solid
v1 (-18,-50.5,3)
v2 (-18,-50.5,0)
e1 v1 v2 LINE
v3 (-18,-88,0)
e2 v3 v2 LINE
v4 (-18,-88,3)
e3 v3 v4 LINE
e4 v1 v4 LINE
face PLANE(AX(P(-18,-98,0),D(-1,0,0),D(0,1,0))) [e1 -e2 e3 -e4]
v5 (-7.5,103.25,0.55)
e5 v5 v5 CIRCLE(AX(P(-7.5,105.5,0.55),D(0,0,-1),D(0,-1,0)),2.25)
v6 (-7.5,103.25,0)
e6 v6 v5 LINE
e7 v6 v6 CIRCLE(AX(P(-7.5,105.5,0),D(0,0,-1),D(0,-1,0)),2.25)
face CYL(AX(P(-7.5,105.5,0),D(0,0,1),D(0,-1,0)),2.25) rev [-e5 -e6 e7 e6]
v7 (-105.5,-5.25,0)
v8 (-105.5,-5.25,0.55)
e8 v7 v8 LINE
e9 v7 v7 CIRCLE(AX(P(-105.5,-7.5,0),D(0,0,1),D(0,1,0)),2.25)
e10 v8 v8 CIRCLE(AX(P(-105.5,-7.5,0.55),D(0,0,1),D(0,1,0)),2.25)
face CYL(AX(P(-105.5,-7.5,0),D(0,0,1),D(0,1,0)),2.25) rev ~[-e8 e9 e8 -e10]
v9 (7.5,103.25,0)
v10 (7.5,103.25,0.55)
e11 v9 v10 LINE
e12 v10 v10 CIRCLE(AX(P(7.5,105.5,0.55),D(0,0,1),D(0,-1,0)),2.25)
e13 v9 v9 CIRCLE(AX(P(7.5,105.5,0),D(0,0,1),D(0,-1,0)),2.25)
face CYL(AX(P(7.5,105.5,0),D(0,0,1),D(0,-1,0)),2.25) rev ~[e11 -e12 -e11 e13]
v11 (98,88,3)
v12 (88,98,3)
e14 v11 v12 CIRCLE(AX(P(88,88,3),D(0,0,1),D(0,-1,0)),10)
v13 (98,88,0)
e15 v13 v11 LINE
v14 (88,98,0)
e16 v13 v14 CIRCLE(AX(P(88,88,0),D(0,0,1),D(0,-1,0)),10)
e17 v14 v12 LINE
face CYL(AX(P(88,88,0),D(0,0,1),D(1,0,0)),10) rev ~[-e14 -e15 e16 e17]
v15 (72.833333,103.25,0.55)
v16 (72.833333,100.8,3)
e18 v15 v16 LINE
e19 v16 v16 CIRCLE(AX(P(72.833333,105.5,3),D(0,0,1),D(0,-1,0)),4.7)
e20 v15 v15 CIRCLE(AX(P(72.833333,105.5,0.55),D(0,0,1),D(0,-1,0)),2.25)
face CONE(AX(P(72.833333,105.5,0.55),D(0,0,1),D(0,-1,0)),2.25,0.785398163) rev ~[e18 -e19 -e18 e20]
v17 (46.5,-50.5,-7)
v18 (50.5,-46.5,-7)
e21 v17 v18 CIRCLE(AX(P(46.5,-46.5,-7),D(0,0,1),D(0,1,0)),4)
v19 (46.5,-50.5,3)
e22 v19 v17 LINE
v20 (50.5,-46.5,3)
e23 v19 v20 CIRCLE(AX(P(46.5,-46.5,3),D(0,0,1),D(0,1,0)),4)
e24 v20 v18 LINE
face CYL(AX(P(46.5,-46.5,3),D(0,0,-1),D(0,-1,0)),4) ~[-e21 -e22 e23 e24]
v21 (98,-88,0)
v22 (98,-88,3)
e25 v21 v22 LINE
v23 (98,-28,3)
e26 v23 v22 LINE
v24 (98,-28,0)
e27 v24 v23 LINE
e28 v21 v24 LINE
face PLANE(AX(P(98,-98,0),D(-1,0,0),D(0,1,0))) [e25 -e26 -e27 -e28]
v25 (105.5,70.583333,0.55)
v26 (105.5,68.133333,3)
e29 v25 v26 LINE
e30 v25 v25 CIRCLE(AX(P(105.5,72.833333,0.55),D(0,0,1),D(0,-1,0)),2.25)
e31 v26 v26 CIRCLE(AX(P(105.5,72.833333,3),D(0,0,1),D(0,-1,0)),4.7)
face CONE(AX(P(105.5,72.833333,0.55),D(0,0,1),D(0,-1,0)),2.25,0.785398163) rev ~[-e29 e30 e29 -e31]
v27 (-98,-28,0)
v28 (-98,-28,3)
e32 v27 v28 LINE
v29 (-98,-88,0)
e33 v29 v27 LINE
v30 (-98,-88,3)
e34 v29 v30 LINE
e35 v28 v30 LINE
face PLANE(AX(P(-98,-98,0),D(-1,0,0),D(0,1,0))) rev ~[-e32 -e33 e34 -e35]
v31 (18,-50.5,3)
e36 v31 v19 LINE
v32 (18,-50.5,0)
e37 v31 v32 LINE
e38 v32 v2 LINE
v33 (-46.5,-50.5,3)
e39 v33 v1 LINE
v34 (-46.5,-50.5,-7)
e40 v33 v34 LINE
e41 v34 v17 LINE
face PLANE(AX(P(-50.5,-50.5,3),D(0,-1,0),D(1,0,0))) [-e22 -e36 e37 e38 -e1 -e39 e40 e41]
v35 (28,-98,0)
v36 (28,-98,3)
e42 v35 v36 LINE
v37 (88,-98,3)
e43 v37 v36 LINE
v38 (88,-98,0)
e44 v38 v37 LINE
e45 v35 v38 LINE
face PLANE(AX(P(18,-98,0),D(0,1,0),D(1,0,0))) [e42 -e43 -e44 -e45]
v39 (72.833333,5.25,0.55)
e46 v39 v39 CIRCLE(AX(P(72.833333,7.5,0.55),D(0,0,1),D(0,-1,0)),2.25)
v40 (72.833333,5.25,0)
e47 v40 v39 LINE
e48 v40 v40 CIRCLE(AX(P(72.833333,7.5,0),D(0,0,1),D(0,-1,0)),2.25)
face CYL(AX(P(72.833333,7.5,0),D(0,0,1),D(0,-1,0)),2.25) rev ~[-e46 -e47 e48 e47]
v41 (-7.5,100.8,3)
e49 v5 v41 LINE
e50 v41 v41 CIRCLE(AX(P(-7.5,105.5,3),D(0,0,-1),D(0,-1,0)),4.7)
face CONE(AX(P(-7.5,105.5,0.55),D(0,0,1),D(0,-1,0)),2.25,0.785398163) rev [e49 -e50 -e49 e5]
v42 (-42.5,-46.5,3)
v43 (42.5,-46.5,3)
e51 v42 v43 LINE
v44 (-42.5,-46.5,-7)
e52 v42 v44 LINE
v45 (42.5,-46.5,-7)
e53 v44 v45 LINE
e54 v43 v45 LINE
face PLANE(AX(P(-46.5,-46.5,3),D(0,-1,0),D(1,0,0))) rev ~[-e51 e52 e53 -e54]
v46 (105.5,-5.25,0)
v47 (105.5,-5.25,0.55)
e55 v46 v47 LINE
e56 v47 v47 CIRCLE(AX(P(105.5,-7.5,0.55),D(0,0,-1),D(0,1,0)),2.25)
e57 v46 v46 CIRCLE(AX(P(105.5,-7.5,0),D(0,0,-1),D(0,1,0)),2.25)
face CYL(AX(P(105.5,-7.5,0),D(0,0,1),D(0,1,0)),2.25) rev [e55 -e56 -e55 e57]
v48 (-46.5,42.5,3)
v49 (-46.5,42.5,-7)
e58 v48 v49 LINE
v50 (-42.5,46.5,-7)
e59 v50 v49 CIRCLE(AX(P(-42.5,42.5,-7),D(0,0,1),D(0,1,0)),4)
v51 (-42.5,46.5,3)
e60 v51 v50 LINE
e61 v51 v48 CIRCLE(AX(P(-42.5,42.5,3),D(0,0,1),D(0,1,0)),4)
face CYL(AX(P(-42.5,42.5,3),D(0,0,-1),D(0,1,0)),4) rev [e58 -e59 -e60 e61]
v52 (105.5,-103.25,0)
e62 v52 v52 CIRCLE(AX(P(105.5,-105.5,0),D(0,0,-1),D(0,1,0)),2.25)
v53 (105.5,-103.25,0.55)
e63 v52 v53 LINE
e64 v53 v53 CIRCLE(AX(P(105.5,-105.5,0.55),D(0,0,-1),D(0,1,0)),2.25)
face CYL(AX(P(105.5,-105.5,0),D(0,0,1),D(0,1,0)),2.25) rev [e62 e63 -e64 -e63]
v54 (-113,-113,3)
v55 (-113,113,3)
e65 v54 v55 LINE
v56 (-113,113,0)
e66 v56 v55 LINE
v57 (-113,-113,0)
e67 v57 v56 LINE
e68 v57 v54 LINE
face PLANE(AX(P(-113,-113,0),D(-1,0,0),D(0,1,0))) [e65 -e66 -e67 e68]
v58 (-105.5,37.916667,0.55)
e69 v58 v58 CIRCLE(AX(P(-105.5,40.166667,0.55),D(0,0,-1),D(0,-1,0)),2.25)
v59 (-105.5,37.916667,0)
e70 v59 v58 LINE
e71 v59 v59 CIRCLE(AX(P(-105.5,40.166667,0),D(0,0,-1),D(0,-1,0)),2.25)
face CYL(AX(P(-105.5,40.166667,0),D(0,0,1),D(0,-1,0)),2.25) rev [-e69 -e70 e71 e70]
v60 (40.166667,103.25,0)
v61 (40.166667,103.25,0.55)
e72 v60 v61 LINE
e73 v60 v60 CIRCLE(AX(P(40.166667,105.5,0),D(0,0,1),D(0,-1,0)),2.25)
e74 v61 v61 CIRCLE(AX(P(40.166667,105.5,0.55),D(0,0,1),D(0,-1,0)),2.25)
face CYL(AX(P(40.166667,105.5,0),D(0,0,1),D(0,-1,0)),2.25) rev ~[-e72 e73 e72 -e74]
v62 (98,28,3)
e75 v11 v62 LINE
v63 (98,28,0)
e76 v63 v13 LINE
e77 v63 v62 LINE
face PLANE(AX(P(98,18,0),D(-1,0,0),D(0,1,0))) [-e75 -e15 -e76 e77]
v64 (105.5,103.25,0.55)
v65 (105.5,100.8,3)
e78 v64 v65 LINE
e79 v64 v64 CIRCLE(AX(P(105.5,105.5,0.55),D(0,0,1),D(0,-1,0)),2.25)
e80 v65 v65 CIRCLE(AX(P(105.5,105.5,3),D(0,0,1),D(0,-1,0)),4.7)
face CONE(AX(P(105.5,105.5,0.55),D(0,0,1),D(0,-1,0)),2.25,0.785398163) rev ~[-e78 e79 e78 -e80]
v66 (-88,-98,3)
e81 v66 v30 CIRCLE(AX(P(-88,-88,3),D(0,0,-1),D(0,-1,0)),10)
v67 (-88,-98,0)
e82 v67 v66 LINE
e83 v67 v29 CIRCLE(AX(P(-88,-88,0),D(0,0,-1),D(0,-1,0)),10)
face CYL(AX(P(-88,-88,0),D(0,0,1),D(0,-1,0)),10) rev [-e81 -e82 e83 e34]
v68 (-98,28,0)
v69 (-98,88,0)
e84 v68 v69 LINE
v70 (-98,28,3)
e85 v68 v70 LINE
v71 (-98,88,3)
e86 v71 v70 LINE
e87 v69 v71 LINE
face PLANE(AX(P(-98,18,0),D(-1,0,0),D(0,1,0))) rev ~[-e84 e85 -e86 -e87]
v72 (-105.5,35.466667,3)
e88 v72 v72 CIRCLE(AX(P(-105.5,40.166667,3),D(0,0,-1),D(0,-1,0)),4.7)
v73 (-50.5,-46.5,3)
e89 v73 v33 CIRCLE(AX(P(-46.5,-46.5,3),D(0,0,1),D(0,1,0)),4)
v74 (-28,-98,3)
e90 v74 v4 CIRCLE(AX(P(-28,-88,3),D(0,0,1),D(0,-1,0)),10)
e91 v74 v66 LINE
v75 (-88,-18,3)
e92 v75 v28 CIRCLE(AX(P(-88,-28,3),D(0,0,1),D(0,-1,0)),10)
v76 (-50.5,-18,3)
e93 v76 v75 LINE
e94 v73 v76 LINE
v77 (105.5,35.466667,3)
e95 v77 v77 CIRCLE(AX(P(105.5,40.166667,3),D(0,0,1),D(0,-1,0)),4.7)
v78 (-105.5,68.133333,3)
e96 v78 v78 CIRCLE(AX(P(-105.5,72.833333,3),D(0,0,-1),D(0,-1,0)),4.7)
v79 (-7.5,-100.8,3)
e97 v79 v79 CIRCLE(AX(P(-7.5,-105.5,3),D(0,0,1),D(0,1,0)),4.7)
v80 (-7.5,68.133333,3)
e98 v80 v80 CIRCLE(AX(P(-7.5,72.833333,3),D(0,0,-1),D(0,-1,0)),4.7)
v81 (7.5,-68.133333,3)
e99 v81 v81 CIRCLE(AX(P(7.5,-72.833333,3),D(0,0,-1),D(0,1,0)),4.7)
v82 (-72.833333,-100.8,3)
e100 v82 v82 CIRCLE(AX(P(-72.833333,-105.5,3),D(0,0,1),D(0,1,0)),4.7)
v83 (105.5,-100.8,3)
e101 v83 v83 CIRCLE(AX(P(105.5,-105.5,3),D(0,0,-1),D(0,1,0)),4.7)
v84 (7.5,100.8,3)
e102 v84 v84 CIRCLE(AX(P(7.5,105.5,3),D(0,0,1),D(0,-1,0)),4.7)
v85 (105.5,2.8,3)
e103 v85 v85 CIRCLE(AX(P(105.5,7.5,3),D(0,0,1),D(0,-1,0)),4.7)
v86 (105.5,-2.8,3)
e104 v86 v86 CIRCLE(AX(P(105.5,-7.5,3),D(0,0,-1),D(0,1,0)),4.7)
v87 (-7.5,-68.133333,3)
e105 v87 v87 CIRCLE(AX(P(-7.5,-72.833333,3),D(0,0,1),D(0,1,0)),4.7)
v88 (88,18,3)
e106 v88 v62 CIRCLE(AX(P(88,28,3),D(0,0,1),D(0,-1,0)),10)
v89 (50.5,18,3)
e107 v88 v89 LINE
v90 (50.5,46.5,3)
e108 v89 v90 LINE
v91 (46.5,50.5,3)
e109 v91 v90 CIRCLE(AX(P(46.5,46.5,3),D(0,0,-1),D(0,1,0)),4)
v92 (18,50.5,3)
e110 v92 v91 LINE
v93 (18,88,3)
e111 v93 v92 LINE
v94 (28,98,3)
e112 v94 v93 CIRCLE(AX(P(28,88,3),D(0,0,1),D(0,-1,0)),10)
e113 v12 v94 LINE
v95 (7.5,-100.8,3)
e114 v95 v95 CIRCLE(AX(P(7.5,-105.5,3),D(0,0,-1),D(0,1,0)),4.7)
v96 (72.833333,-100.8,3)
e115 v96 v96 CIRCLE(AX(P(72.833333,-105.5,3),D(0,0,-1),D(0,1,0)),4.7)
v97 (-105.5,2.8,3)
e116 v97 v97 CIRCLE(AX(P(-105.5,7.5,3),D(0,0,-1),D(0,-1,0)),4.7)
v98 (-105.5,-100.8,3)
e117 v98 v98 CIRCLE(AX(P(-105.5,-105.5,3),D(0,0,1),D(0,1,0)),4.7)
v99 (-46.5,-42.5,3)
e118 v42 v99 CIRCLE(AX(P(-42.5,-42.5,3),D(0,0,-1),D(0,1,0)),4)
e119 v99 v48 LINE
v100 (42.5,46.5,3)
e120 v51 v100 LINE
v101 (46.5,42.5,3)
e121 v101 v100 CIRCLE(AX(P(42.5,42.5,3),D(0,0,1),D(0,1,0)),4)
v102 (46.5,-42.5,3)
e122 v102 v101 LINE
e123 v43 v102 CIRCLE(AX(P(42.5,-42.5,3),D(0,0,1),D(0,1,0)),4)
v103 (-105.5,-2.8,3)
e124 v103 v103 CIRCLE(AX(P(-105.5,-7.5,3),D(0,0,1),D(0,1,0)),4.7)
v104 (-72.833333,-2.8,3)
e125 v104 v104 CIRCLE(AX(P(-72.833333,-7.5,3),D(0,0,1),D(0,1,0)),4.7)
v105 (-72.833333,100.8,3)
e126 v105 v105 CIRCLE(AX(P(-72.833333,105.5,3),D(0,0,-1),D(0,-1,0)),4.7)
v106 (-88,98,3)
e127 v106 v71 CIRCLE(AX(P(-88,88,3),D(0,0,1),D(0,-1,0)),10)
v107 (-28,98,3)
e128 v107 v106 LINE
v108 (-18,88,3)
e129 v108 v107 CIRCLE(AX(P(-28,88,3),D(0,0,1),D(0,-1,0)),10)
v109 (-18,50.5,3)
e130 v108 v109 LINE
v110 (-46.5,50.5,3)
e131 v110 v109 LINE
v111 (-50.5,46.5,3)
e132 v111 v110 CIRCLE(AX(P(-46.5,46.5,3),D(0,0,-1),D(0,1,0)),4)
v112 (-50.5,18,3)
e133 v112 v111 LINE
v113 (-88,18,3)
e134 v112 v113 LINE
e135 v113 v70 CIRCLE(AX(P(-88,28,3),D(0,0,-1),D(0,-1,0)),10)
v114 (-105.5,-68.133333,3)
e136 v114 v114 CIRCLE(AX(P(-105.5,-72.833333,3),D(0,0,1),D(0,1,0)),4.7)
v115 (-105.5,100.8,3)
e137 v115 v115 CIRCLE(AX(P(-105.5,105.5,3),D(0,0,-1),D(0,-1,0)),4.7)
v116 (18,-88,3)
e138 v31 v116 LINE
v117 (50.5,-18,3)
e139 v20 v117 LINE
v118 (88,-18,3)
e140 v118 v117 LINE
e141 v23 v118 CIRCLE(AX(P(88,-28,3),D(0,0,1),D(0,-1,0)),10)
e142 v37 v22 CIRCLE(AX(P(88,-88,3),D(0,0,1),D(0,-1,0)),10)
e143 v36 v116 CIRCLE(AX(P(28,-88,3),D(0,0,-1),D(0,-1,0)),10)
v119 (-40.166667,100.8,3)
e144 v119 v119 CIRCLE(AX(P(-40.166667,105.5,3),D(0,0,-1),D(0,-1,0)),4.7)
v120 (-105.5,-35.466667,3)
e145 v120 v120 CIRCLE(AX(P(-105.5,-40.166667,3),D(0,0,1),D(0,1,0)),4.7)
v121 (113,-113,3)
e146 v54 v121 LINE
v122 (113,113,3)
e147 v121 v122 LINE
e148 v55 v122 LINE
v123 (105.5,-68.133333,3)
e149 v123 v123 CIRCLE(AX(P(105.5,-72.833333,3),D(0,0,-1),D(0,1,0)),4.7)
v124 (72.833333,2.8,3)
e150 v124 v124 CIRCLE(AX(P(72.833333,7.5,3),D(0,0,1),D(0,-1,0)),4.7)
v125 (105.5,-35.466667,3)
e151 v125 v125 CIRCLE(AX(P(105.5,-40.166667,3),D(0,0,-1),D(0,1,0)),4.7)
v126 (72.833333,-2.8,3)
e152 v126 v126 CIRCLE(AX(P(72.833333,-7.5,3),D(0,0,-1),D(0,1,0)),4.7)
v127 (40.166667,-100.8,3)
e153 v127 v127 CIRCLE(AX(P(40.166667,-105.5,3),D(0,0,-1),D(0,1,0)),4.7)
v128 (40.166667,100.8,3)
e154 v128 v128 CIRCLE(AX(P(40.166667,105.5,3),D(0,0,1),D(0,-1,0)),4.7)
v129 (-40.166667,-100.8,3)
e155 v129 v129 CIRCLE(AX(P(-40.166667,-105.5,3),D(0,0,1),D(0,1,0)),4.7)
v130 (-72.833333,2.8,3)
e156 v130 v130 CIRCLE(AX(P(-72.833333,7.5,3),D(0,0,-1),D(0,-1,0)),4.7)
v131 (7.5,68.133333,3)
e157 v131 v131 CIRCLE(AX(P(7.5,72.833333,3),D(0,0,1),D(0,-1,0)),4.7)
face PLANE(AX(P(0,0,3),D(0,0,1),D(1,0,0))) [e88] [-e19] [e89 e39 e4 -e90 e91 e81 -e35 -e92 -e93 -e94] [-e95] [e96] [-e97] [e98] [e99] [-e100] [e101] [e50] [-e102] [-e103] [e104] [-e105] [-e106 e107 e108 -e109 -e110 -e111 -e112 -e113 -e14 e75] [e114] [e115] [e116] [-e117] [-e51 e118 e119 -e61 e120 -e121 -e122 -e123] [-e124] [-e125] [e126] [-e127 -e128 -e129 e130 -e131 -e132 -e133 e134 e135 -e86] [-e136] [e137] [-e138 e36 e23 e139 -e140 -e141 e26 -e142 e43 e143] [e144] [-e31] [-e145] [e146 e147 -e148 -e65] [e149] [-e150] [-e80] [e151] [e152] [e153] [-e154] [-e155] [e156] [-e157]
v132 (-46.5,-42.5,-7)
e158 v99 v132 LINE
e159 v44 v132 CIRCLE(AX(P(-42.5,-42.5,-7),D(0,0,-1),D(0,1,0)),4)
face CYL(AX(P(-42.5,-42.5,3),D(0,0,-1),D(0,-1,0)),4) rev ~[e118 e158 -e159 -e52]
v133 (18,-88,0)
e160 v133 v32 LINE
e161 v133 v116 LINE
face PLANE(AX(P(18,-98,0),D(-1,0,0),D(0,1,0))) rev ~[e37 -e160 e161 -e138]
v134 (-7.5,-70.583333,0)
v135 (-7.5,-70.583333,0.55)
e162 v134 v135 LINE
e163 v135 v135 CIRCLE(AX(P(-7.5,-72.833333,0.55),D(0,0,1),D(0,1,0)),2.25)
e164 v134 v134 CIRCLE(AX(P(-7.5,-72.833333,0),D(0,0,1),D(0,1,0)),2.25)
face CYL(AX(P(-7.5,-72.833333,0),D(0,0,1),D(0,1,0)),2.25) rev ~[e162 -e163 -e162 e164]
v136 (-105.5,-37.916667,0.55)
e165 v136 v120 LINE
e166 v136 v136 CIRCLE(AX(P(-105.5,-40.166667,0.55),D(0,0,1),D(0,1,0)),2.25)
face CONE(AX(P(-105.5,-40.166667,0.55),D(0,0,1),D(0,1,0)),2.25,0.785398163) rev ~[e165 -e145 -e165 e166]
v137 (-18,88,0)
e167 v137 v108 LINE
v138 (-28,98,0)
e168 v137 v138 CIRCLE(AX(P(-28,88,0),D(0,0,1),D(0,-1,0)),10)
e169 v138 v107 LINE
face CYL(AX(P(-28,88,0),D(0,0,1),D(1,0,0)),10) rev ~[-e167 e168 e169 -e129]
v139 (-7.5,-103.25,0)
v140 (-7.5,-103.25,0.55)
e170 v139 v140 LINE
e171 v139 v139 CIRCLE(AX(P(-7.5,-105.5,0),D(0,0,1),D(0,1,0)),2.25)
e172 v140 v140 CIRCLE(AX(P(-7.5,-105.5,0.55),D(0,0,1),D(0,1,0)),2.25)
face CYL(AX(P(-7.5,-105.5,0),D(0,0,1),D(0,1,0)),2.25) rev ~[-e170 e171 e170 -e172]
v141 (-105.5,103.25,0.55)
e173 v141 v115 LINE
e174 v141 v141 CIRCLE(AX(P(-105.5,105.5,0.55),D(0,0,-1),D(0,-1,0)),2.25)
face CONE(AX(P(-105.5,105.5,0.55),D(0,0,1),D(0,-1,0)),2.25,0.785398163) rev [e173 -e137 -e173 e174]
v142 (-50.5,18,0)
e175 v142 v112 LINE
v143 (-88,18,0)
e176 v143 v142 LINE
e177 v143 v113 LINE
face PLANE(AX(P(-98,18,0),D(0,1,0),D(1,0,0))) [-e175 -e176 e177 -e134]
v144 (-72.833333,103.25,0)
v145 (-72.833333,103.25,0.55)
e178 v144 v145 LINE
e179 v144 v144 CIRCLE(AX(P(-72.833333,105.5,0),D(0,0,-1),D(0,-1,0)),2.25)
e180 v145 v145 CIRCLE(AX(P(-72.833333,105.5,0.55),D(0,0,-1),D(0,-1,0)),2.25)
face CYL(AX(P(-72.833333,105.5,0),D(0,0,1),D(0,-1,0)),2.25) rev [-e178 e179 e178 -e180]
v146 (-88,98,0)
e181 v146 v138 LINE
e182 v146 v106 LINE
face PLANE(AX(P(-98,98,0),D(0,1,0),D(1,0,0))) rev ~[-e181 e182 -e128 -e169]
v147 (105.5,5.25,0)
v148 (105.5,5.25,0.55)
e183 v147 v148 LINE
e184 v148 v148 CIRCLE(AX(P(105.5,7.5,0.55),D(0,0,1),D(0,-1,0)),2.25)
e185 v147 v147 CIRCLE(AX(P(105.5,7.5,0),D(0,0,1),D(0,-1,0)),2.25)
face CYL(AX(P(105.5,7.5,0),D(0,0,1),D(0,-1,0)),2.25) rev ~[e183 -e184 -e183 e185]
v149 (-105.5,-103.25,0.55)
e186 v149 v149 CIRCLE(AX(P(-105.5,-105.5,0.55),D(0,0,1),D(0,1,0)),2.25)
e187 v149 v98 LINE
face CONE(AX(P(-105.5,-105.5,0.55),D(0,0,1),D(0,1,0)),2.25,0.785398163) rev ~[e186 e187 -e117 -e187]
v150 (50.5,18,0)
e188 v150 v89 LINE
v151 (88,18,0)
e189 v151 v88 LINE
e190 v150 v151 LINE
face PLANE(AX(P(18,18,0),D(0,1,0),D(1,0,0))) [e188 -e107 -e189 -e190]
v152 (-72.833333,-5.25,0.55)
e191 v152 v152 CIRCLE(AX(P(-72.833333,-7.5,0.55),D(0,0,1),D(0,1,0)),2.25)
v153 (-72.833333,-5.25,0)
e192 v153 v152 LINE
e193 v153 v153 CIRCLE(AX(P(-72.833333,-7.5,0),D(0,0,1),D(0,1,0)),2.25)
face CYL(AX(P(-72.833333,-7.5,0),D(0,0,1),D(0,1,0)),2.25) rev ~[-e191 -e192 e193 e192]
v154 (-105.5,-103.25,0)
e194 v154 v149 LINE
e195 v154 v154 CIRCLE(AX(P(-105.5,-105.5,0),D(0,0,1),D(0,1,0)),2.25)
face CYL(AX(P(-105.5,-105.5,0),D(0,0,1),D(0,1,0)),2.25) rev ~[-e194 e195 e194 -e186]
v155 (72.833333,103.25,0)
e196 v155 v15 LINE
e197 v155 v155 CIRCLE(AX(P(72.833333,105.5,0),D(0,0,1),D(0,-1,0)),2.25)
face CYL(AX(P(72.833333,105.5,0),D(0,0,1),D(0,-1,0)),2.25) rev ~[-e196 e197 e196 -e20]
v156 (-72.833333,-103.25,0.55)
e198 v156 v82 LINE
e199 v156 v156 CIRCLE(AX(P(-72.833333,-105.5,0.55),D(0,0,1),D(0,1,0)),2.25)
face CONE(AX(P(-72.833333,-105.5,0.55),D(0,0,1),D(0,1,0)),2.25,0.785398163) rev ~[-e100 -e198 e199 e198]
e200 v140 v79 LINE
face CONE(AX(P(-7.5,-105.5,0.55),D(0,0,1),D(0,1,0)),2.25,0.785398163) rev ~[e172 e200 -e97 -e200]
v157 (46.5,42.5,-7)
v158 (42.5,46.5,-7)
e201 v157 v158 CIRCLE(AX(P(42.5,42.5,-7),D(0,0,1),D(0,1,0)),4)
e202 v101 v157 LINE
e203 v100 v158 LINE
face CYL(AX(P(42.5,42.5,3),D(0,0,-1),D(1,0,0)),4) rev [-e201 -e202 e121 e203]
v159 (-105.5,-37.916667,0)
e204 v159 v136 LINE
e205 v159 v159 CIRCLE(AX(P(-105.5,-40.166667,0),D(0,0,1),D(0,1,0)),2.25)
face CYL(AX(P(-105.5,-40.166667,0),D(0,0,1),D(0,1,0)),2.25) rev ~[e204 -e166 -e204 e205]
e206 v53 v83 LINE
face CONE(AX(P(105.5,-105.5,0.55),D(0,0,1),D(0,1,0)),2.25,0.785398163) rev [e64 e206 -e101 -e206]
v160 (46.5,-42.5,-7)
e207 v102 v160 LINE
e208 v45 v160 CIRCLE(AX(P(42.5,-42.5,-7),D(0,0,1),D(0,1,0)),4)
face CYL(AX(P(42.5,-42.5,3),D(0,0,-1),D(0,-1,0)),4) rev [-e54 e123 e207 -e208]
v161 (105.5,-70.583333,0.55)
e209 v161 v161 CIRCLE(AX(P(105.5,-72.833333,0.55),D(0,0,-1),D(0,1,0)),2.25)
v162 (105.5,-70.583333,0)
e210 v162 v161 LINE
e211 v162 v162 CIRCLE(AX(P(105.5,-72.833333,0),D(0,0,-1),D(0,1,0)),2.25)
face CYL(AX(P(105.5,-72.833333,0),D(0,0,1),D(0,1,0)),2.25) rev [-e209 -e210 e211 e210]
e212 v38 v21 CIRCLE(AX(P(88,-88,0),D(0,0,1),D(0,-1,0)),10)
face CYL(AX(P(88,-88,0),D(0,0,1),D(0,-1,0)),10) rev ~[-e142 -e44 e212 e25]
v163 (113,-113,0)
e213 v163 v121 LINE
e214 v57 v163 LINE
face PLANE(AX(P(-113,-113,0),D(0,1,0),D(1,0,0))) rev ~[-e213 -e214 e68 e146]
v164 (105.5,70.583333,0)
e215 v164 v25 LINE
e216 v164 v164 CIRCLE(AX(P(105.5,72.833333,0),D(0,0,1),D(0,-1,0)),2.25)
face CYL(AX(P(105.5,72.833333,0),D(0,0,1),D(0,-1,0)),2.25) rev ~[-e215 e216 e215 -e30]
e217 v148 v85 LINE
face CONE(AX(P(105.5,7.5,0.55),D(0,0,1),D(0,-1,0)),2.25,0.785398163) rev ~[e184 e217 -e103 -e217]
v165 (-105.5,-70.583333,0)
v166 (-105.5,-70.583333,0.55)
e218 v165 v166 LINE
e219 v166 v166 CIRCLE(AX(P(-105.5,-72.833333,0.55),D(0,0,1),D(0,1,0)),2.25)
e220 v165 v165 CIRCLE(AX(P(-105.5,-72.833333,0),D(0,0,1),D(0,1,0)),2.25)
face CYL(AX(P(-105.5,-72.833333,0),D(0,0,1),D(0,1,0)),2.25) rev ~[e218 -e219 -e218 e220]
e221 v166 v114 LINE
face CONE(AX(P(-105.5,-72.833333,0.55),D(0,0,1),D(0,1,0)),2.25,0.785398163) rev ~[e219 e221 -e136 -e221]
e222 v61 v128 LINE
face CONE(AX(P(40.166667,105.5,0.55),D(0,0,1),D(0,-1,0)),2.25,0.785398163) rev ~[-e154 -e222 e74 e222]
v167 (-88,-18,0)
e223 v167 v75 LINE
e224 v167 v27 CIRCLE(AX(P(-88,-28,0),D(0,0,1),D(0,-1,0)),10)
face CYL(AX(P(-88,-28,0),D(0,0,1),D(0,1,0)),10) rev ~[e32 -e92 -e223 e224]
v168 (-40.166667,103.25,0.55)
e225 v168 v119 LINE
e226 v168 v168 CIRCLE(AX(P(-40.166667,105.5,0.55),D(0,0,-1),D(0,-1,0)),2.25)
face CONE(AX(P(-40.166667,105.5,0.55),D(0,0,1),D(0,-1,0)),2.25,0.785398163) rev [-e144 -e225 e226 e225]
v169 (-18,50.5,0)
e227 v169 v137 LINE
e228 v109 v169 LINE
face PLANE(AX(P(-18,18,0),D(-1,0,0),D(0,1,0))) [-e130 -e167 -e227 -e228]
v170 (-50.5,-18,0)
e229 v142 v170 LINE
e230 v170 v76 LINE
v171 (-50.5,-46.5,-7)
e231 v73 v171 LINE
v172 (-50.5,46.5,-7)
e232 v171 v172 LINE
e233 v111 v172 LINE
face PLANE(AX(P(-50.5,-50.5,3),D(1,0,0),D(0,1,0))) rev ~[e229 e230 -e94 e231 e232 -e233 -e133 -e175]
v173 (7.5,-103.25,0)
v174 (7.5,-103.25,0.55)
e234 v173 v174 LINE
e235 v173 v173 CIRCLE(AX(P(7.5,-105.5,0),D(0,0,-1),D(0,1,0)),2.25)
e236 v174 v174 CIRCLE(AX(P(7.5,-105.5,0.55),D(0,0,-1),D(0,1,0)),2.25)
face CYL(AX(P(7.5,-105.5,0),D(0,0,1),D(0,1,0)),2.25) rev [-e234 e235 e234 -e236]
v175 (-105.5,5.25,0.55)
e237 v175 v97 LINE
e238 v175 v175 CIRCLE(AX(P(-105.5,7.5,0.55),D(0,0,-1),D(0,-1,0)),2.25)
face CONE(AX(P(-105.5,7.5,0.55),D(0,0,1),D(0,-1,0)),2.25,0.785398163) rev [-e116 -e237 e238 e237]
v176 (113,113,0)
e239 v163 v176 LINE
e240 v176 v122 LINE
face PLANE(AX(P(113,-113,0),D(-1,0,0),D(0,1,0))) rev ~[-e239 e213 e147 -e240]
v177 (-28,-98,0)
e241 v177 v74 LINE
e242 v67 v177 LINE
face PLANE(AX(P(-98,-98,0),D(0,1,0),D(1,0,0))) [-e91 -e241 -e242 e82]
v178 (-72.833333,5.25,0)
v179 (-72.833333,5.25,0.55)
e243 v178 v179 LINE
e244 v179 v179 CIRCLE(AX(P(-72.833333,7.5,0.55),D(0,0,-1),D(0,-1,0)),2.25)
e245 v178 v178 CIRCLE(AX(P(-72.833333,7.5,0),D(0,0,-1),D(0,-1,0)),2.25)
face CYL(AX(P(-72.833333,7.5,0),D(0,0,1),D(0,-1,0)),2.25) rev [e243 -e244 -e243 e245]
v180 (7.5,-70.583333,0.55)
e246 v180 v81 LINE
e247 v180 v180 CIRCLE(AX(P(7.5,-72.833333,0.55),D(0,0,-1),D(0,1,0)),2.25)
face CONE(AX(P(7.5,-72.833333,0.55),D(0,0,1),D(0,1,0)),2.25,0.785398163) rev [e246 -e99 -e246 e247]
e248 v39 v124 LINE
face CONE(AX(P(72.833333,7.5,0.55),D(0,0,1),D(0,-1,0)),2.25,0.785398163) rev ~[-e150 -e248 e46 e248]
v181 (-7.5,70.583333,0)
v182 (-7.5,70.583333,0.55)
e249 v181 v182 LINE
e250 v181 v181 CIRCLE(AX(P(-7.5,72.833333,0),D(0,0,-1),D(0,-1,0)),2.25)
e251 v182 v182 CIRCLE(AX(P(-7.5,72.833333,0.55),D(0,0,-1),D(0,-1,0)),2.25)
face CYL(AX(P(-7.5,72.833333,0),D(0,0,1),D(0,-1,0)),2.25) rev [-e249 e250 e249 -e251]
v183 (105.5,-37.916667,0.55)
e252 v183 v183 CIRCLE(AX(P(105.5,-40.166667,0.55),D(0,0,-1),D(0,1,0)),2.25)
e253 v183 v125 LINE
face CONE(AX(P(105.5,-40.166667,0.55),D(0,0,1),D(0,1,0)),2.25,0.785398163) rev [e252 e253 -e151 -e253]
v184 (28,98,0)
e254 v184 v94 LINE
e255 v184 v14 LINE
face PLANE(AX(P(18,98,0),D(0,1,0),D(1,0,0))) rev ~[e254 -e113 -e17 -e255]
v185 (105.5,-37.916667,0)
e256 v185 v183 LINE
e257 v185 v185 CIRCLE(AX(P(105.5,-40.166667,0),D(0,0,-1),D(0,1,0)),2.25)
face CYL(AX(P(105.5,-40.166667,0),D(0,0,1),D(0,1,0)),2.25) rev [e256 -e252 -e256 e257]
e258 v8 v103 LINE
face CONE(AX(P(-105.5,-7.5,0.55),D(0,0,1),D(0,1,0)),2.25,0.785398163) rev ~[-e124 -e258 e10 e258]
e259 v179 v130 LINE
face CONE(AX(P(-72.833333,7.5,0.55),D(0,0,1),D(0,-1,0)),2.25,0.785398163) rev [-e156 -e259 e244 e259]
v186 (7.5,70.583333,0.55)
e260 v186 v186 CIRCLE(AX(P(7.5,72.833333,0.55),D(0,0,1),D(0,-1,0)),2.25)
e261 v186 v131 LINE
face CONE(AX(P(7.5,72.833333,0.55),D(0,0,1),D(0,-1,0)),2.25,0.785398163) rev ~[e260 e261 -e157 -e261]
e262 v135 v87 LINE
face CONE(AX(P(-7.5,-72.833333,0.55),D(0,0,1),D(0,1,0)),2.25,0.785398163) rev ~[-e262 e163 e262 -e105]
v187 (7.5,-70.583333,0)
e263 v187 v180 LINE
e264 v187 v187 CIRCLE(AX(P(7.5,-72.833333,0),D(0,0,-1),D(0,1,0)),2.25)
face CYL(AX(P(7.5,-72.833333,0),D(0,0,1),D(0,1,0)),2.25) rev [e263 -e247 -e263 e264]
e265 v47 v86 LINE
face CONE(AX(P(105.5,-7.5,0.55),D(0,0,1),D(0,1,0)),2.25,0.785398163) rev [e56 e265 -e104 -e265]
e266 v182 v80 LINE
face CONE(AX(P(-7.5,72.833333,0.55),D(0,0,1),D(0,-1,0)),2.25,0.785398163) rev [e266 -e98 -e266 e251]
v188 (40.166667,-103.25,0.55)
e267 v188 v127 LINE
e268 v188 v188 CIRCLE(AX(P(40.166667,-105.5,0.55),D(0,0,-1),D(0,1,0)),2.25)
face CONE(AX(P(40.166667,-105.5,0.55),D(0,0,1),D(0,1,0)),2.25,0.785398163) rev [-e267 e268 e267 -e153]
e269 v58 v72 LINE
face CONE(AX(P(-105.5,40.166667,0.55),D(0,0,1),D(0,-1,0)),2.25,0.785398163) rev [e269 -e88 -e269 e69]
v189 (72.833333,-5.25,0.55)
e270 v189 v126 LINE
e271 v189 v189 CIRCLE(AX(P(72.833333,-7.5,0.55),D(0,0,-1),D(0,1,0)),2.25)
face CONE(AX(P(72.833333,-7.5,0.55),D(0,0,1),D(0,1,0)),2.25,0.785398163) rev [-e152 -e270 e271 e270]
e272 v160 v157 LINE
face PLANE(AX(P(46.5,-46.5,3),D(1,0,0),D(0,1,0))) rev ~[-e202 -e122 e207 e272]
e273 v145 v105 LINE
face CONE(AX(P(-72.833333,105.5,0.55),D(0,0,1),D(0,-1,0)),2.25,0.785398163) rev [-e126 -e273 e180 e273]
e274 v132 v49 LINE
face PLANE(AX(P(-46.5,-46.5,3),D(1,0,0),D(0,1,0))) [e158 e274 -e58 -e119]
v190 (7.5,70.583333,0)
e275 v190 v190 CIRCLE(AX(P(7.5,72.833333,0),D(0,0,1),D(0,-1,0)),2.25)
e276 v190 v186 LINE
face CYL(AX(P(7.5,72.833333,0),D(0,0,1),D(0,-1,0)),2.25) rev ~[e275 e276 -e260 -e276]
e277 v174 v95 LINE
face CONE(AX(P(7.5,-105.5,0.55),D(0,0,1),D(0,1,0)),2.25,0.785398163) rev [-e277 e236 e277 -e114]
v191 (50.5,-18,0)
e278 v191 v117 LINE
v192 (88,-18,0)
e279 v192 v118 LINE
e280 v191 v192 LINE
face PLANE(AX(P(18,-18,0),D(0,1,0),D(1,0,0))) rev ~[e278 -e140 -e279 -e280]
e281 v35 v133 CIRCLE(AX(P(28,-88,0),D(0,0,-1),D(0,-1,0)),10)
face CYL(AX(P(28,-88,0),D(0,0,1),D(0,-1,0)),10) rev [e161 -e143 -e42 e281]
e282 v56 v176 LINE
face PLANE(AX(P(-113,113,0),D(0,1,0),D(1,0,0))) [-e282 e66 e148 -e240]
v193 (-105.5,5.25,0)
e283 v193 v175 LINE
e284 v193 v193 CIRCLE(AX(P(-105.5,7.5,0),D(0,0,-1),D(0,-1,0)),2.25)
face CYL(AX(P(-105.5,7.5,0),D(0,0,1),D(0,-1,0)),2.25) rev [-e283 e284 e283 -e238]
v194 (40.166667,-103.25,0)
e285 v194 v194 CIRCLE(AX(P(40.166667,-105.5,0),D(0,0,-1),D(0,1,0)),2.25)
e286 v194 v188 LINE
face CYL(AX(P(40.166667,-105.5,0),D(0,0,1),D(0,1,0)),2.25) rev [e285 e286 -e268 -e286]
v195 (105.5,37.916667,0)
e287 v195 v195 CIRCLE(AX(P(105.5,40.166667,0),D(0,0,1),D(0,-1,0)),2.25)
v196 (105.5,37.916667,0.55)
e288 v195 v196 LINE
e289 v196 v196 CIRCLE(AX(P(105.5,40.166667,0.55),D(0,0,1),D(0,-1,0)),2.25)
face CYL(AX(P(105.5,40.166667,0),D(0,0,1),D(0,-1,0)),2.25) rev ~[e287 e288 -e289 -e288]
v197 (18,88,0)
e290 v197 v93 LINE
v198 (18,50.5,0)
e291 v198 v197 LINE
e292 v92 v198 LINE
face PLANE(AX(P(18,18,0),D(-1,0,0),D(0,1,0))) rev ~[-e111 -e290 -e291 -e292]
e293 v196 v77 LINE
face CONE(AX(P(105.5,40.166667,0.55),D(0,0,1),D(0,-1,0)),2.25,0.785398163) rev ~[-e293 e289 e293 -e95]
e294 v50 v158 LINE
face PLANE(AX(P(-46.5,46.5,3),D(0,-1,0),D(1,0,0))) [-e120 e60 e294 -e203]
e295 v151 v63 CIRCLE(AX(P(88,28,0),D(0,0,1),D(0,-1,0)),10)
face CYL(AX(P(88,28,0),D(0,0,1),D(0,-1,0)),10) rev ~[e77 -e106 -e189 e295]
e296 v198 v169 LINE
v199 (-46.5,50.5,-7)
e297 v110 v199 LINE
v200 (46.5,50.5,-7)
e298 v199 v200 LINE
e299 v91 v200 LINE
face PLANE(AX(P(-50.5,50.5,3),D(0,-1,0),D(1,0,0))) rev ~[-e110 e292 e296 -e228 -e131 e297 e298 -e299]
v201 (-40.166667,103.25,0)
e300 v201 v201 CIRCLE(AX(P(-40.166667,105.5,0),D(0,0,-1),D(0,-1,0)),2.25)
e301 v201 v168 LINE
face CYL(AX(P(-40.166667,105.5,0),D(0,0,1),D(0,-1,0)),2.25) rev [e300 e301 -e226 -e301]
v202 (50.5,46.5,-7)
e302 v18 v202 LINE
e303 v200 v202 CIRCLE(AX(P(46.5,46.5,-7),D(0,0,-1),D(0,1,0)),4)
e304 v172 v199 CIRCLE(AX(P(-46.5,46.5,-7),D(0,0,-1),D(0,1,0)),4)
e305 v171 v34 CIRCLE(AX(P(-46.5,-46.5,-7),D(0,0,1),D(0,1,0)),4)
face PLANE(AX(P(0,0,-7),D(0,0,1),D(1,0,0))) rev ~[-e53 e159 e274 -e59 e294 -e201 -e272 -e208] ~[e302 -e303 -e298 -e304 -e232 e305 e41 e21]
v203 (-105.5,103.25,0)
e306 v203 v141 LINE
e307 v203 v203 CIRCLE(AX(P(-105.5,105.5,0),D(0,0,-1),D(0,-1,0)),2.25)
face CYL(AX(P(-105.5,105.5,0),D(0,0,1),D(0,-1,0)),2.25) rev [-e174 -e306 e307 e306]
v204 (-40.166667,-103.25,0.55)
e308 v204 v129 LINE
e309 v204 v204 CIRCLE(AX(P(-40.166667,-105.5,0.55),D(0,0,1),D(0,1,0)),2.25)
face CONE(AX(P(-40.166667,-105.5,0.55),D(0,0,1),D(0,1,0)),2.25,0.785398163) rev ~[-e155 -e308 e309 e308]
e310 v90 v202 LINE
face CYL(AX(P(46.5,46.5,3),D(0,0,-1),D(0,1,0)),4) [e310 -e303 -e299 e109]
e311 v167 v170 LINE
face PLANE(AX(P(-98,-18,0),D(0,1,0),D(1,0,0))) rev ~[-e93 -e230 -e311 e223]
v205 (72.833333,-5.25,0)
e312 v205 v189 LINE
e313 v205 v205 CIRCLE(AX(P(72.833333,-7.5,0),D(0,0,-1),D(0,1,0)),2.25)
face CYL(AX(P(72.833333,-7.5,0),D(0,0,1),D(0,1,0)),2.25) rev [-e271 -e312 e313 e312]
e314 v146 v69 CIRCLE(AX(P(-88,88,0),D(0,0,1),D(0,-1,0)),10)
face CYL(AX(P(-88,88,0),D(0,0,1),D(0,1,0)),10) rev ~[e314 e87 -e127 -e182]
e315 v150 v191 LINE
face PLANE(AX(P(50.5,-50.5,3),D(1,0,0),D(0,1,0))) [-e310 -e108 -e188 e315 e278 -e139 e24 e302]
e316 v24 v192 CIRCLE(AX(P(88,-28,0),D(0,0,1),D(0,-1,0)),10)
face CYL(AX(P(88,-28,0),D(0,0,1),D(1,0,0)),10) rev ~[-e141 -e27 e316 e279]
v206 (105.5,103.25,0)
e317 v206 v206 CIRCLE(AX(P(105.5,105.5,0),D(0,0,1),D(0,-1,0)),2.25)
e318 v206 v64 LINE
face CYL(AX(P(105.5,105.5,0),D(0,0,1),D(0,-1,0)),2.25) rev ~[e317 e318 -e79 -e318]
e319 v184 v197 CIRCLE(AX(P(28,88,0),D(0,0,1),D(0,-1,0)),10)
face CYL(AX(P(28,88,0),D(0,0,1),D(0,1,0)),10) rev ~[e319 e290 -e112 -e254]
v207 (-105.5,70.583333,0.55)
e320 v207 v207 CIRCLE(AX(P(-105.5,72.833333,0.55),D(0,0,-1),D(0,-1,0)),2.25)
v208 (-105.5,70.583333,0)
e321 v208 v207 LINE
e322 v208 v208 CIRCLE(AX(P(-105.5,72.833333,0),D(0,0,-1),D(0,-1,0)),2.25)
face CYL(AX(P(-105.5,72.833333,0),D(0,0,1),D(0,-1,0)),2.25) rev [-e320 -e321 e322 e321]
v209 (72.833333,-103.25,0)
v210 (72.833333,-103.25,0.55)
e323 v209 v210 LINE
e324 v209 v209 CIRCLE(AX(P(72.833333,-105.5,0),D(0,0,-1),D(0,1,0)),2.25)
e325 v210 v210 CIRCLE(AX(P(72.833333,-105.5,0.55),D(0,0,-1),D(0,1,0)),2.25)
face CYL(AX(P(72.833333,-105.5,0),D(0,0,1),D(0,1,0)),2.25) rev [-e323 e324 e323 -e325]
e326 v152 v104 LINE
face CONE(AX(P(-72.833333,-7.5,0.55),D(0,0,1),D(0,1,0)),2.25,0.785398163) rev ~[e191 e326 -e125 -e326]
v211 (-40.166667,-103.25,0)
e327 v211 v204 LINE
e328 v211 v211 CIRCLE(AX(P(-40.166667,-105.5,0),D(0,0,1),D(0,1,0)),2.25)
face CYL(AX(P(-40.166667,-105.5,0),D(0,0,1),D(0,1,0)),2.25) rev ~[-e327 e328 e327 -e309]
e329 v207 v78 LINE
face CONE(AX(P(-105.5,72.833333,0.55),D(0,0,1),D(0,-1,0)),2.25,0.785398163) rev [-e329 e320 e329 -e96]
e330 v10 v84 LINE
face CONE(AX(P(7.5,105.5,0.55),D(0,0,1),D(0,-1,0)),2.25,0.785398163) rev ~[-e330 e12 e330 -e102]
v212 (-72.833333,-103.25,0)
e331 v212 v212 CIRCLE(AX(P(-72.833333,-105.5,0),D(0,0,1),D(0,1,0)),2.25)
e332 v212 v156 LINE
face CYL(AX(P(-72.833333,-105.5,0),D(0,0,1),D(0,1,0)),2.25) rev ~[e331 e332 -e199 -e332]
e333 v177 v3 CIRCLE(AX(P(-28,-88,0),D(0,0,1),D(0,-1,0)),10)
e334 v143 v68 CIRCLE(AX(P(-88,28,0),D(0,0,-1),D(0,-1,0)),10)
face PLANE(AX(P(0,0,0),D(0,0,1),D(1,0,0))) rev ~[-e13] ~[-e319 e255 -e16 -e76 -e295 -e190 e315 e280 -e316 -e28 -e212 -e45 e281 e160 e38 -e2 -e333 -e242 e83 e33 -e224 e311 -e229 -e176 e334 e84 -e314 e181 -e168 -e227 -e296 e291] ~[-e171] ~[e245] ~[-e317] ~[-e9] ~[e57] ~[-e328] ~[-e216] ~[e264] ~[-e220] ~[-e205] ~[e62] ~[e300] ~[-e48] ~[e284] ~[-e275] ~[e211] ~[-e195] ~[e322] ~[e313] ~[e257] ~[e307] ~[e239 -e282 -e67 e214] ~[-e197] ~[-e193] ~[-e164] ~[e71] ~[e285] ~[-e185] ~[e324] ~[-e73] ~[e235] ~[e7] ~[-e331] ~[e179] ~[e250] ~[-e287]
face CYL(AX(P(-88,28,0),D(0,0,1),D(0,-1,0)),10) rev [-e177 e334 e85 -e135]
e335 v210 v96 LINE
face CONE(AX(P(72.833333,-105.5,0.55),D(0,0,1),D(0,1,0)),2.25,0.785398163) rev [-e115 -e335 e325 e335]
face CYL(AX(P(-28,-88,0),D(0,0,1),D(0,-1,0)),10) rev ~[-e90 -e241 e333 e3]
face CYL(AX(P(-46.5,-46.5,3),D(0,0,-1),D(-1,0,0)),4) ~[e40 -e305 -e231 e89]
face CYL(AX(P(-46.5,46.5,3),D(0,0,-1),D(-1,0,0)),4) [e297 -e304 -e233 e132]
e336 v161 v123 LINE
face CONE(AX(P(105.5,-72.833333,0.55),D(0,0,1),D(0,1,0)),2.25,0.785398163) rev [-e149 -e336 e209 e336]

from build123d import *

# Parameters (mm, degrees)
SKETCH1_W              = 226
SKETCH1_H              = 226
BOSS_EXTRUDE1_DEPTH    = 3
SKETCH2_W              = 80
SKETCH2_H              = 80
CUT_EXTRUDE2_DEPTH     = 4
FILLET1_R              = 10
LPATTERN2_COUNT        = 2
LPATTERN2_PITCH        = 116
LPATTERN2_COUNT_DIR2   = 2
LPATTERN2_PITCH_DIR2   = 116
FILLET1_OF_LPATTERN2_R = 10
LPATTERN8_COUNT        = 4
LPATTERN8_PITCH        = 32.666666667
LPATTERN8_COUNT_DIR2   = 4
LPATTERN8_PITCH_DIR2   = 32.666666667
CUT_EXTRUDE3_REACH     = 5
SKETCH14_W             = 101
SKETCH14_H             = 101
SKETCH15_W             = 101
SKETCH15_H             = 101
SKETCH15_W_2           = 93
SKETCH15_H_2           = 93
BOSS_EXTRUDE2_DEPTH    = 10
FILLET2_R              = 4


with BuildPart() as part:
    # Sketch1 → Boss-Extrude1 (new body)
    with BuildSketch(Plane.XY):
        Rectangle(SKETCH1_W, SKETCH1_H)
    extrude(amount=BOSS_EXTRUDE1_DEPTH)

    # Sketch2 → Cut-Extrude2 (cut, through all)
    with BuildSketch(Plane.XY):
        with Locations((-58, 58)):
            Rectangle(SKETCH2_W, SKETCH2_H)
    cut_extrude2 = extrude(amount=CUT_EXTRUDE2_DEPTH, mode=Mode.SUBTRACT)

    # Fillet1
    fillet1_edges = [part.edges().sort_by_distance(p)[0] for p in [
        (-18, 18, 1.5),
        (-18, 98, 1.5),
        (-98, 98, 1.5),
        (-98, 18, 1.5),
    ]]
    fillet(fillet1_edges, radius=FILLET1_R)

    # LPattern2: Cut-Extrude2 2 × 2
    with Locations(*[(j * LPATTERN2_PITCH_DIR2, -i * LPATTERN2_PITCH, 0) for i in range(LPATTERN2_COUNT) for j in range(LPATTERN2_COUNT_DIR2) if (i, j) != (0, 0)]):
        add(cut_extrude2, mode=Mode.SUBTRACT)

    # Fillet1 of LPattern2
    fillet1_of_lpattern2_edges = [part.edges().sort_by_distance(p)[0] for p in [
        (98, 18, 1.5),
        (98, 98, 1.5),
        (18, 98, 1.5),
        (18, 18, 1.5),
        (-18, -98, 1.5),
        (-18, -18, 1.5),
        (-98, -18, 1.5),
        (-98, -98, 1.5),
        (98, -98, 1.5),
        (98, -18, 1.5),
        (18, -18, 1.5),
        (18, -98, 1.5),
    ]]
    fillet(fillet1_of_lpattern2_edges, radius=FILLET1_OF_LPATTERN2_R)

    # Sketch12 → CSK for M4 Flat Head Machine Screw4 (revolve, cut)
    with BuildSketch(Plane(origin=(-105.5, 105.5, 3), x_dir=(0, -1, 0), z_dir=(1, 0, 0))):
        Polygon((0, 0), (0, 3), (2.25, 3), (2.25, 2.45), (4.7, 0), align=None)
    csk_for_m4_flat_head_machine_screw4 = revolve(axis=Axis((-105.5, 105.5, 9.35), (0, 0, -1)), mode=Mode.SUBTRACT)

    # LPattern8: CSK for M4 Flat Head Machine Screw4 4 × 4, 4 skipped
    with Locations(*[(i * LPATTERN8_PITCH, -j * LPATTERN8_PITCH_DIR2, 0) for i in range(LPATTERN8_COUNT) for j in range(LPATTERN8_COUNT_DIR2) if (i, j) not in ((0, 0), (1, 1), (1, 2), (2, 1), (2, 2))]):
        add(csk_for_m4_flat_head_machine_screw4, mode=Mode.SUBTRACT)

    # Mirror1: CSK for M4 Flat Head Machine Screw4 across plane
    add(csk_for_m4_flat_head_machine_screw4.mirror(Plane(origin=(0, 0, 0), x_dir=(0, 0, 1), z_dir=(1, 0, 0))), mode=Mode.SUBTRACT)

    # Mirror1 copy 1 sketch → Mirror1 copy 1 (revolve, cut)
    with BuildSketch(Plane(origin=(105.5, 72.833333333, 3), x_dir=(0, -1, 0), z_dir=(-1, 0, 0))):
        Polygon((0, 0), (0, -3), (2.25, -3), (2.25, -2.45), (4.7, 0), align=None)
    revolve(axis=Axis((105.5, 72.833333333, 9.35), (0, 0, 1)), mode=Mode.SUBTRACT)

    # Mirror1 copy 2 sketch → Mirror1 copy 2 (revolve, cut)
    with BuildSketch(Plane(origin=(105.5, 40.166666667, 3), x_dir=(0, -1, 0), z_dir=(-1, 0, 0))):
        Polygon((0, 0), (0, -3), (2.25, -3), (2.25, -2.45), (4.7, 0), align=None)
    revolve(axis=Axis((105.5, 40.166666667, 9.35), (0, 0, 1)), mode=Mode.SUBTRACT)

    # Mirror1 copy 3 sketch → Mirror1 copy 3 (revolve, cut)
    with BuildSketch(Plane(origin=(105.5, 7.5, 3), x_dir=(0, -1, 0), z_dir=(-1, 0, 0))):
        Polygon((0, 0), (0, -3), (2.25, -3), (2.25, -2.45), (4.7, 0), align=None)
    revolve(axis=Axis((105.5, 7.5, 9.35), (0, 0, 1)), mode=Mode.SUBTRACT)

    # Mirror1 copy 4 sketch → Mirror1 copy 4 (revolve, cut)
    with BuildSketch(Plane(origin=(72.833333333, 105.5, 3), x_dir=(0, -1, 0), z_dir=(-1, 0, 0))):
        Polygon((0, 0), (0, -3), (2.25, -3), (2.25, -2.45), (4.7, 0), align=None)
    revolve(axis=Axis((72.833333333, 105.5, 9.35), (0, 0, 1)), mode=Mode.SUBTRACT)

    # Mirror1 copy 5 sketch → Mirror1 copy 5 (revolve, cut)
    with BuildSketch(Plane(origin=(72.833333333, 7.5, 3), x_dir=(0, -1, 0), z_dir=(-1, 0, 0))):
        Polygon((0, 0), (0, -3), (2.25, -3), (2.25, -2.45), (4.7, 0), align=None)
    revolve(axis=Axis((72.833333333, 7.5, 9.35), (0, 0, 1)), mode=Mode.SUBTRACT)

    # Mirror1 copy 6 sketch → Mirror1 copy 6 (revolve, cut)
    with BuildSketch(Plane(origin=(40.166666667, 105.5, 3), x_dir=(0, -1, 0), z_dir=(-1, 0, 0))):
        Polygon((0, 0), (0, -3), (2.25, -3), (2.25, -2.45), (4.7, 0), align=None)
    revolve(axis=Axis((40.166666667, 105.5, 9.35), (0, 0, 1)), mode=Mode.SUBTRACT)

    # Mirror1 copy 7 sketch → Mirror1 copy 7 (revolve, cut)
    with BuildSketch(Plane(origin=(40.166666667, 7.5, 3), x_dir=(0, -1, 0), z_dir=(-1, 0, 0))):
        Polygon((0, 0), (0, -3), (2.25, -3), (2.25, -2.45), (4.7, 0), align=None)
    revolve(axis=Axis((40.166666667, 7.5, 9.35), (0, 0, 1)), mode=Mode.SUBTRACT)

    # Mirror1 copy 8 sketch → Mirror1 copy 8 (revolve, cut)
    with BuildSketch(Plane(origin=(7.5, 105.5, 3), x_dir=(0, -1, 0), z_dir=(-1, 0, 0))):
        Polygon((0, 0), (0, -3), (2.25, -3), (2.25, -2.45), (4.7, 0), align=None)
    revolve(axis=Axis((7.5, 105.5, 9.35), (0, 0, 1)), mode=Mode.SUBTRACT)

    # Mirror1 copy 9 sketch → Mirror1 copy 9 (revolve, cut)
    with BuildSketch(Plane(origin=(7.5, 72.833333333, 3), x_dir=(0, -1, 0), z_dir=(-1, 0, 0))):
        Polygon((0, 0), (0, -3), (2.25, -3), (2.25, -2.45), (4.7, 0), align=None)
    revolve(axis=Axis((7.5, 72.833333333, 9.35), (0, 0, 1)), mode=Mode.SUBTRACT)

    # Mirror1 copy 10 sketch → Mirror1 copy 10 (revolve, cut)
    with BuildSketch(Plane(origin=(7.5, 40.166666667, 3), x_dir=(0, -1, 0), z_dir=(-1, 0, 0))):
        Polygon((0, 0), (0, -3), (2.25, -3), (2.25, -2.45), (4.7, 0), align=None)
    revolve(axis=Axis((7.5, 40.166666667, 9.35), (0, 0, 1)), mode=Mode.SUBTRACT)

    # Mirror1 copy 11 sketch → Mirror1 copy 11 (revolve, cut)
    with BuildSketch(Plane(origin=(7.5, 7.5, 3), x_dir=(0, -1, 0), z_dir=(-1, 0, 0))):
        Polygon((0, 0), (0, -3), (2.25, -3), (2.25, -2.45), (4.7, 0), align=None)
    revolve(axis=Axis((7.5, 7.5, 9.35), (0, 0, 1)), mode=Mode.SUBTRACT)

    # Mirror1 at the second plane: CSK for M4 Flat Head Machine Screw4 across plane
    add(csk_for_m4_flat_head_machine_screw4.mirror(Plane.ZX), mode=Mode.SUBTRACT)

    # Mirror1 at the second plane copy 1 sketc → Mirror1 at the second plane copy 1 (revolve, cut)
    with BuildSketch(Plane(origin=(-105.5, -72.833333333, 3), x_dir=(0, 1, 0), z_dir=(1, 0, 0))):
        Polygon((0, 0), (0, -3), (2.25, -3), (2.25, -2.45), (4.7, 0), align=None)
    revolve(axis=Axis((-105.5, -72.833333333, 9.35), (0, 0, 1)), mode=Mode.SUBTRACT)

    # Mirror1 at the second plane copy 2 sketc → Mirror1 at the second plane copy 2 (revolve, cut)
    with BuildSketch(Plane(origin=(-105.5, -40.166666667, 3), x_dir=(0, 1, 0), z_dir=(1, 0, 0))):
        Polygon((0, 0), (0, -3), (2.25, -3), (2.25, -2.45), (4.7, 0), align=None)
    revolve(axis=Axis((-105.5, -40.166666667, 9.35), (0, 0, 1)), mode=Mode.SUBTRACT)

    # Mirror1 at the second plane copy 3 sketc → Mirror1 at the second plane copy 3 (revolve, cut)
    with BuildSketch(Plane(origin=(-105.5, -7.5, 3), x_dir=(0, 1, 0), z_dir=(1, 0, 0))):
        Polygon((0, 0), (0, -3), (2.25, -3), (2.25, -2.45), (4.7, 0), align=None)
    revolve(axis=Axis((-105.5, -7.5, 9.35), (0, 0, 1)), mode=Mode.SUBTRACT)

    # Mirror1 at the second plane copy 4 sketc → Mirror1 at the second plane copy 4 (revolve, cut)
    with BuildSketch(Plane(origin=(-72.833333333, -105.5, 3), x_dir=(0, 1, 0), z_dir=(1, 0, 0))):
        Polygon((0, 0), (0, -3), (2.25, -3), (2.25, -2.45), (4.7, 0), align=None)
    revolve(axis=Axis((-72.833333333, -105.5, 9.35), (0, 0, 1)), mode=Mode.SUBTRACT)

    # Mirror1 at the second plane copy 5 sketc → Mirror1 at the second plane copy 5 (revolve, cut)
    with BuildSketch(Plane(origin=(-72.833333333, -7.5, 3), x_dir=(0, 1, 0), z_dir=(1, 0, 0))):
        Polygon((0, 0), (0, -3), (2.25, -3), (2.25, -2.45), (4.7, 0), align=None)
    revolve(axis=Axis((-72.833333333, -7.5, 9.35), (0, 0, 1)), mode=Mode.SUBTRACT)

    # Mirror1 at the second plane copy 6 sketc → Mirror1 at the second plane copy 6 (revolve, cut)
    with BuildSketch(Plane(origin=(-40.166666667, -105.5, 3), x_dir=(0, 1, 0), z_dir=(1, 0, 0))):
        Polygon((0, 0), (0, -3), (2.25, -3), (2.25, -2.45), (4.7, 0), align=None)
    revolve(axis=Axis((-40.166666667, -105.5, 9.35), (0, 0, 1)), mode=Mode.SUBTRACT)

    # Mirror1 at the second plane copy 7 sketc → Mirror1 at the second plane copy 7 (revolve, cut)
    with BuildSketch(Plane(origin=(-40.166666667, -7.5, 3), x_dir=(0, 1, 0), z_dir=(1, 0, 0))):
        Polygon((0, 0), (0, -3), (2.25, -3), (2.25, -2.45), (4.7, 0), align=None)
    revolve(axis=Axis((-40.166666667, -7.5, 9.35), (0, 0, 1)), mode=Mode.SUBTRACT)

    # Mirror1 at the second plane copy 8 sketc → Mirror1 at the second plane copy 8 (revolve, cut)
    with BuildSketch(Plane(origin=(-7.5, -105.5, 3), x_dir=(0, 1, 0), z_dir=(1, 0, 0))):
        Polygon((0, 0), (0, -3), (2.25, -3), (2.25, -2.45), (4.7, 0), align=None)
    revolve(axis=Axis((-7.5, -105.5, 9.35), (0, 0, 1)), mode=Mode.SUBTRACT)

    # Mirror1 at the second plane copy 9 sketc → Mirror1 at the second plane copy 9 (revolve, cut)
    with BuildSketch(Plane(origin=(-7.5, -72.833333333, 3), x_dir=(0, 1, 0), z_dir=(1, 0, 0))):
        Polygon((0, 0), (0, -3), (2.25, -3), (2.25, -2.45), (4.7, 0), align=None)
    revolve(axis=Axis((-7.5, -72.833333333, 9.35), (0, 0, 1)), mode=Mode.SUBTRACT)

    # Mirror1 at the second plane copy 10 sket → Mirror1 at the second plane copy 10 (revolve, cut)
    with BuildSketch(Plane(origin=(-7.5, -40.166666667, 3), x_dir=(0, 1, 0), z_dir=(1, 0, 0))):
        Polygon((0, 0), (0, -3), (2.25, -3), (2.25, -2.45), (4.7, 0), align=None)
    revolve(axis=Axis((-7.5, -40.166666667, 9.35), (0, 0, 1)), mode=Mode.SUBTRACT)

    # Mirror1 at the second plane copy 11 sket → Mirror1 at the second plane copy 11 (revolve, cut)
    with BuildSketch(Plane(origin=(-7.5, -7.5, 3), x_dir=(0, 1, 0), z_dir=(1, 0, 0))):
        Polygon((0, 0), (0, -3), (2.25, -3), (2.25, -2.45), (4.7, 0), align=None)
    revolve(axis=Axis((-7.5, -7.5, 9.35), (0, 0, 1)), mode=Mode.SUBTRACT)

    # Mirror1 at the second plane copy 12 sket → Mirror1 at the second plane copy 12 (revolve, cut)
    with BuildSketch(Plane(origin=(105.5, -105.5, 3), x_dir=(0, 1, 0), z_dir=(-1, 0, 0))):
        Polygon((0, 0), (0, 3), (2.25, 3), (2.25, 2.45), (4.7, 0), align=None)
    revolve(axis=Axis((105.5, -105.5, 9.35), (0, 0, -1)), mode=Mode.SUBTRACT)

    # Mirror1 at the second plane copy 13 sket → Mirror1 at the second plane copy 13 (revolve, cut)
    with BuildSketch(Plane(origin=(105.5, -72.833333333, 3), x_dir=(0, 1, 0), z_dir=(-1, 0, 0))):
        Polygon((0, 0), (0, 3), (2.25, 3), (2.25, 2.45), (4.7, 0), align=None)
    revolve(axis=Axis((105.5, -72.833333333, 9.35), (0, 0, -1)), mode=Mode.SUBTRACT)

    # Mirror1 at the second plane copy 14 sket → Mirror1 at the second plane copy 14 (revolve, cut)
    with BuildSketch(Plane(origin=(105.5, -40.166666667, 3), x_dir=(0, 1, 0), z_dir=(-1, 0, 0))):
        Polygon((0, 0), (0, 3), (2.25, 3), (2.25, 2.45), (4.7, 0), align=None)
    revolve(axis=Axis((105.5, -40.166666667, 9.35), (0, 0, -1)), mode=Mode.SUBTRACT)

    # Mirror1 at the second plane copy 15 sket → Mirror1 at the second plane copy 15 (revolve, cut)
    with BuildSketch(Plane(origin=(105.5, -7.5, 3), x_dir=(0, 1, 0), z_dir=(-1, 0, 0))):
        Polygon((0, 0), (0, 3), (2.25, 3), (2.25, 2.45), (4.7, 0), align=None)
    revolve(axis=Axis((105.5, -7.5, 9.35), (0, 0, -1)), mode=Mode.SUBTRACT)

    # Mirror1 at the second plane copy 16 sket → Mirror1 at the second plane copy 16 (revolve, cut)
    with BuildSketch(Plane(origin=(72.833333333, -105.5, 3), x_dir=(0, 1, 0), z_dir=(-1, 0, 0))):
        Polygon((0, 0), (0, 3), (2.25, 3), (2.25, 2.45), (4.7, 0), align=None)
    revolve(axis=Axis((72.833333333, -105.5, 9.35), (0, 0, -1)), mode=Mode.SUBTRACT)

    # Mirror1 at the second plane copy 17 sket → Mirror1 at the second plane copy 17 (revolve, cut)
    with BuildSketch(Plane(origin=(72.833333333, -7.5, 3), x_dir=(0, 1, 0), z_dir=(-1, 0, 0))):
        Polygon((0, 0), (0, 3), (2.25, 3), (2.25, 2.45), (4.7, 0), align=None)
    revolve(axis=Axis((72.833333333, -7.5, 9.35), (0, 0, -1)), mode=Mode.SUBTRACT)

    # Mirror1 at the second plane copy 18 sket → Mirror1 at the second plane copy 18 (revolve, cut)
    with BuildSketch(Plane(origin=(40.166666667, -105.5, 3), x_dir=(0, 1, 0), z_dir=(-1, 0, 0))):
        Polygon((0, 0), (0, 3), (2.25, 3), (2.25, 2.45), (4.7, 0), align=None)
    revolve(axis=Axis((40.166666667, -105.5, 9.35), (0, 0, -1)), mode=Mode.SUBTRACT)

    # Mirror1 at the second plane copy 19 sket → Mirror1 at the second plane copy 19 (revolve, cut)
    with BuildSketch(Plane(origin=(40.166666667, -7.5, 3), x_dir=(0, 1, 0), z_dir=(-1, 0, 0))):
        Polygon((0, 0), (0, 3), (2.25, 3), (2.25, 2.45), (4.7, 0), align=None)
    revolve(axis=Axis((40.166666667, -7.5, 9.35), (0, 0, -1)), mode=Mode.SUBTRACT)

    # Mirror1 at the second plane copy 20 sket → Mirror1 at the second plane copy 20 (revolve, cut)
    with BuildSketch(Plane(origin=(7.5, -105.5, 3), x_dir=(0, 1, 0), z_dir=(-1, 0, 0))):
        Polygon((0, 0), (0, 3), (2.25, 3), (2.25, 2.45), (4.7, 0), align=None)
    revolve(axis=Axis((7.5, -105.5, 9.35), (0, 0, -1)), mode=Mode.SUBTRACT)

    # Mirror1 at the second plane copy 21 sket → Mirror1 at the second plane copy 21 (revolve, cut)
    with BuildSketch(Plane(origin=(7.5, -72.833333333, 3), x_dir=(0, 1, 0), z_dir=(-1, 0, 0))):
        Polygon((0, 0), (0, 3), (2.25, 3), (2.25, 2.45), (4.7, 0), align=None)
    revolve(axis=Axis((7.5, -72.833333333, 9.35), (0, 0, -1)), mode=Mode.SUBTRACT)

    # Mirror1 at the second plane copy 22 sket → Mirror1 at the second plane copy 22 (revolve, cut)
    with BuildSketch(Plane(origin=(7.5, -40.166666667, 3), x_dir=(0, 1, 0), z_dir=(-1, 0, 0))):
        Polygon((0, 0), (0, 3), (2.25, 3), (2.25, 2.45), (4.7, 0), align=None)
    revolve(axis=Axis((7.5, -40.166666667, 9.35), (0, 0, -1)), mode=Mode.SUBTRACT)

    # Mirror1 at the second plane copy 23 sket → Mirror1 at the second plane copy 23 (revolve, cut)
    with BuildSketch(Plane(origin=(7.5, -7.5, 3), x_dir=(0, 1, 0), z_dir=(-1, 0, 0))):
        Polygon((0, 0), (0, 3), (2.25, 3), (2.25, 2.45), (4.7, 0), align=None)
    revolve(axis=Axis((7.5, -7.5, 9.35), (0, 0, -1)), mode=Mode.SUBTRACT)

    # Sketch14 → Cut-Extrude3 (cut, up to next)
    with BuildSketch(Plane.XY.offset(3), mode=Mode.PRIVATE) as cut_extrude3_sk1:
        Rectangle(SKETCH14_W, SKETCH14_H)
    cut_extrude3_tool1 = extrude(cut_extrude3_sk1.sketch, amount=-CUT_EXTRUDE3_REACH, mode=Mode.PRIVATE) & part.part
    add(cut_extrude3_tool1.solids().sort_by_distance((0, 0, 3))[0], mode=Mode.SUBTRACT)

    # Sketch15 → Boss-Extrude2 (add)
    with BuildSketch(Plane.XY.offset(3)):
        Rectangle(SKETCH15_W, SKETCH15_H)
        Rectangle(SKETCH15_W_2, SKETCH15_H_2, mode=Mode.SUBTRACT)
    extrude(amount=-BOSS_EXTRUDE2_DEPTH)

    # Fillet2
    fillet2_edges = [part.edges().sort_by_distance(p)[0] for p in [
        (50.5, 50.5, -2),
        (50.5, -50.5, -2),
        (-50.5, -50.5, -2),
        (-50.5, 50.5, -2),
        (46.5, -46.5, -2),
        (-46.5, -46.5, -2),
        (-46.5, 46.5, -2),
        (46.5, 46.5, -2),
    ]]
    fillet(fillet2_edges, radius=FILLET2_R)


solid = part.part
